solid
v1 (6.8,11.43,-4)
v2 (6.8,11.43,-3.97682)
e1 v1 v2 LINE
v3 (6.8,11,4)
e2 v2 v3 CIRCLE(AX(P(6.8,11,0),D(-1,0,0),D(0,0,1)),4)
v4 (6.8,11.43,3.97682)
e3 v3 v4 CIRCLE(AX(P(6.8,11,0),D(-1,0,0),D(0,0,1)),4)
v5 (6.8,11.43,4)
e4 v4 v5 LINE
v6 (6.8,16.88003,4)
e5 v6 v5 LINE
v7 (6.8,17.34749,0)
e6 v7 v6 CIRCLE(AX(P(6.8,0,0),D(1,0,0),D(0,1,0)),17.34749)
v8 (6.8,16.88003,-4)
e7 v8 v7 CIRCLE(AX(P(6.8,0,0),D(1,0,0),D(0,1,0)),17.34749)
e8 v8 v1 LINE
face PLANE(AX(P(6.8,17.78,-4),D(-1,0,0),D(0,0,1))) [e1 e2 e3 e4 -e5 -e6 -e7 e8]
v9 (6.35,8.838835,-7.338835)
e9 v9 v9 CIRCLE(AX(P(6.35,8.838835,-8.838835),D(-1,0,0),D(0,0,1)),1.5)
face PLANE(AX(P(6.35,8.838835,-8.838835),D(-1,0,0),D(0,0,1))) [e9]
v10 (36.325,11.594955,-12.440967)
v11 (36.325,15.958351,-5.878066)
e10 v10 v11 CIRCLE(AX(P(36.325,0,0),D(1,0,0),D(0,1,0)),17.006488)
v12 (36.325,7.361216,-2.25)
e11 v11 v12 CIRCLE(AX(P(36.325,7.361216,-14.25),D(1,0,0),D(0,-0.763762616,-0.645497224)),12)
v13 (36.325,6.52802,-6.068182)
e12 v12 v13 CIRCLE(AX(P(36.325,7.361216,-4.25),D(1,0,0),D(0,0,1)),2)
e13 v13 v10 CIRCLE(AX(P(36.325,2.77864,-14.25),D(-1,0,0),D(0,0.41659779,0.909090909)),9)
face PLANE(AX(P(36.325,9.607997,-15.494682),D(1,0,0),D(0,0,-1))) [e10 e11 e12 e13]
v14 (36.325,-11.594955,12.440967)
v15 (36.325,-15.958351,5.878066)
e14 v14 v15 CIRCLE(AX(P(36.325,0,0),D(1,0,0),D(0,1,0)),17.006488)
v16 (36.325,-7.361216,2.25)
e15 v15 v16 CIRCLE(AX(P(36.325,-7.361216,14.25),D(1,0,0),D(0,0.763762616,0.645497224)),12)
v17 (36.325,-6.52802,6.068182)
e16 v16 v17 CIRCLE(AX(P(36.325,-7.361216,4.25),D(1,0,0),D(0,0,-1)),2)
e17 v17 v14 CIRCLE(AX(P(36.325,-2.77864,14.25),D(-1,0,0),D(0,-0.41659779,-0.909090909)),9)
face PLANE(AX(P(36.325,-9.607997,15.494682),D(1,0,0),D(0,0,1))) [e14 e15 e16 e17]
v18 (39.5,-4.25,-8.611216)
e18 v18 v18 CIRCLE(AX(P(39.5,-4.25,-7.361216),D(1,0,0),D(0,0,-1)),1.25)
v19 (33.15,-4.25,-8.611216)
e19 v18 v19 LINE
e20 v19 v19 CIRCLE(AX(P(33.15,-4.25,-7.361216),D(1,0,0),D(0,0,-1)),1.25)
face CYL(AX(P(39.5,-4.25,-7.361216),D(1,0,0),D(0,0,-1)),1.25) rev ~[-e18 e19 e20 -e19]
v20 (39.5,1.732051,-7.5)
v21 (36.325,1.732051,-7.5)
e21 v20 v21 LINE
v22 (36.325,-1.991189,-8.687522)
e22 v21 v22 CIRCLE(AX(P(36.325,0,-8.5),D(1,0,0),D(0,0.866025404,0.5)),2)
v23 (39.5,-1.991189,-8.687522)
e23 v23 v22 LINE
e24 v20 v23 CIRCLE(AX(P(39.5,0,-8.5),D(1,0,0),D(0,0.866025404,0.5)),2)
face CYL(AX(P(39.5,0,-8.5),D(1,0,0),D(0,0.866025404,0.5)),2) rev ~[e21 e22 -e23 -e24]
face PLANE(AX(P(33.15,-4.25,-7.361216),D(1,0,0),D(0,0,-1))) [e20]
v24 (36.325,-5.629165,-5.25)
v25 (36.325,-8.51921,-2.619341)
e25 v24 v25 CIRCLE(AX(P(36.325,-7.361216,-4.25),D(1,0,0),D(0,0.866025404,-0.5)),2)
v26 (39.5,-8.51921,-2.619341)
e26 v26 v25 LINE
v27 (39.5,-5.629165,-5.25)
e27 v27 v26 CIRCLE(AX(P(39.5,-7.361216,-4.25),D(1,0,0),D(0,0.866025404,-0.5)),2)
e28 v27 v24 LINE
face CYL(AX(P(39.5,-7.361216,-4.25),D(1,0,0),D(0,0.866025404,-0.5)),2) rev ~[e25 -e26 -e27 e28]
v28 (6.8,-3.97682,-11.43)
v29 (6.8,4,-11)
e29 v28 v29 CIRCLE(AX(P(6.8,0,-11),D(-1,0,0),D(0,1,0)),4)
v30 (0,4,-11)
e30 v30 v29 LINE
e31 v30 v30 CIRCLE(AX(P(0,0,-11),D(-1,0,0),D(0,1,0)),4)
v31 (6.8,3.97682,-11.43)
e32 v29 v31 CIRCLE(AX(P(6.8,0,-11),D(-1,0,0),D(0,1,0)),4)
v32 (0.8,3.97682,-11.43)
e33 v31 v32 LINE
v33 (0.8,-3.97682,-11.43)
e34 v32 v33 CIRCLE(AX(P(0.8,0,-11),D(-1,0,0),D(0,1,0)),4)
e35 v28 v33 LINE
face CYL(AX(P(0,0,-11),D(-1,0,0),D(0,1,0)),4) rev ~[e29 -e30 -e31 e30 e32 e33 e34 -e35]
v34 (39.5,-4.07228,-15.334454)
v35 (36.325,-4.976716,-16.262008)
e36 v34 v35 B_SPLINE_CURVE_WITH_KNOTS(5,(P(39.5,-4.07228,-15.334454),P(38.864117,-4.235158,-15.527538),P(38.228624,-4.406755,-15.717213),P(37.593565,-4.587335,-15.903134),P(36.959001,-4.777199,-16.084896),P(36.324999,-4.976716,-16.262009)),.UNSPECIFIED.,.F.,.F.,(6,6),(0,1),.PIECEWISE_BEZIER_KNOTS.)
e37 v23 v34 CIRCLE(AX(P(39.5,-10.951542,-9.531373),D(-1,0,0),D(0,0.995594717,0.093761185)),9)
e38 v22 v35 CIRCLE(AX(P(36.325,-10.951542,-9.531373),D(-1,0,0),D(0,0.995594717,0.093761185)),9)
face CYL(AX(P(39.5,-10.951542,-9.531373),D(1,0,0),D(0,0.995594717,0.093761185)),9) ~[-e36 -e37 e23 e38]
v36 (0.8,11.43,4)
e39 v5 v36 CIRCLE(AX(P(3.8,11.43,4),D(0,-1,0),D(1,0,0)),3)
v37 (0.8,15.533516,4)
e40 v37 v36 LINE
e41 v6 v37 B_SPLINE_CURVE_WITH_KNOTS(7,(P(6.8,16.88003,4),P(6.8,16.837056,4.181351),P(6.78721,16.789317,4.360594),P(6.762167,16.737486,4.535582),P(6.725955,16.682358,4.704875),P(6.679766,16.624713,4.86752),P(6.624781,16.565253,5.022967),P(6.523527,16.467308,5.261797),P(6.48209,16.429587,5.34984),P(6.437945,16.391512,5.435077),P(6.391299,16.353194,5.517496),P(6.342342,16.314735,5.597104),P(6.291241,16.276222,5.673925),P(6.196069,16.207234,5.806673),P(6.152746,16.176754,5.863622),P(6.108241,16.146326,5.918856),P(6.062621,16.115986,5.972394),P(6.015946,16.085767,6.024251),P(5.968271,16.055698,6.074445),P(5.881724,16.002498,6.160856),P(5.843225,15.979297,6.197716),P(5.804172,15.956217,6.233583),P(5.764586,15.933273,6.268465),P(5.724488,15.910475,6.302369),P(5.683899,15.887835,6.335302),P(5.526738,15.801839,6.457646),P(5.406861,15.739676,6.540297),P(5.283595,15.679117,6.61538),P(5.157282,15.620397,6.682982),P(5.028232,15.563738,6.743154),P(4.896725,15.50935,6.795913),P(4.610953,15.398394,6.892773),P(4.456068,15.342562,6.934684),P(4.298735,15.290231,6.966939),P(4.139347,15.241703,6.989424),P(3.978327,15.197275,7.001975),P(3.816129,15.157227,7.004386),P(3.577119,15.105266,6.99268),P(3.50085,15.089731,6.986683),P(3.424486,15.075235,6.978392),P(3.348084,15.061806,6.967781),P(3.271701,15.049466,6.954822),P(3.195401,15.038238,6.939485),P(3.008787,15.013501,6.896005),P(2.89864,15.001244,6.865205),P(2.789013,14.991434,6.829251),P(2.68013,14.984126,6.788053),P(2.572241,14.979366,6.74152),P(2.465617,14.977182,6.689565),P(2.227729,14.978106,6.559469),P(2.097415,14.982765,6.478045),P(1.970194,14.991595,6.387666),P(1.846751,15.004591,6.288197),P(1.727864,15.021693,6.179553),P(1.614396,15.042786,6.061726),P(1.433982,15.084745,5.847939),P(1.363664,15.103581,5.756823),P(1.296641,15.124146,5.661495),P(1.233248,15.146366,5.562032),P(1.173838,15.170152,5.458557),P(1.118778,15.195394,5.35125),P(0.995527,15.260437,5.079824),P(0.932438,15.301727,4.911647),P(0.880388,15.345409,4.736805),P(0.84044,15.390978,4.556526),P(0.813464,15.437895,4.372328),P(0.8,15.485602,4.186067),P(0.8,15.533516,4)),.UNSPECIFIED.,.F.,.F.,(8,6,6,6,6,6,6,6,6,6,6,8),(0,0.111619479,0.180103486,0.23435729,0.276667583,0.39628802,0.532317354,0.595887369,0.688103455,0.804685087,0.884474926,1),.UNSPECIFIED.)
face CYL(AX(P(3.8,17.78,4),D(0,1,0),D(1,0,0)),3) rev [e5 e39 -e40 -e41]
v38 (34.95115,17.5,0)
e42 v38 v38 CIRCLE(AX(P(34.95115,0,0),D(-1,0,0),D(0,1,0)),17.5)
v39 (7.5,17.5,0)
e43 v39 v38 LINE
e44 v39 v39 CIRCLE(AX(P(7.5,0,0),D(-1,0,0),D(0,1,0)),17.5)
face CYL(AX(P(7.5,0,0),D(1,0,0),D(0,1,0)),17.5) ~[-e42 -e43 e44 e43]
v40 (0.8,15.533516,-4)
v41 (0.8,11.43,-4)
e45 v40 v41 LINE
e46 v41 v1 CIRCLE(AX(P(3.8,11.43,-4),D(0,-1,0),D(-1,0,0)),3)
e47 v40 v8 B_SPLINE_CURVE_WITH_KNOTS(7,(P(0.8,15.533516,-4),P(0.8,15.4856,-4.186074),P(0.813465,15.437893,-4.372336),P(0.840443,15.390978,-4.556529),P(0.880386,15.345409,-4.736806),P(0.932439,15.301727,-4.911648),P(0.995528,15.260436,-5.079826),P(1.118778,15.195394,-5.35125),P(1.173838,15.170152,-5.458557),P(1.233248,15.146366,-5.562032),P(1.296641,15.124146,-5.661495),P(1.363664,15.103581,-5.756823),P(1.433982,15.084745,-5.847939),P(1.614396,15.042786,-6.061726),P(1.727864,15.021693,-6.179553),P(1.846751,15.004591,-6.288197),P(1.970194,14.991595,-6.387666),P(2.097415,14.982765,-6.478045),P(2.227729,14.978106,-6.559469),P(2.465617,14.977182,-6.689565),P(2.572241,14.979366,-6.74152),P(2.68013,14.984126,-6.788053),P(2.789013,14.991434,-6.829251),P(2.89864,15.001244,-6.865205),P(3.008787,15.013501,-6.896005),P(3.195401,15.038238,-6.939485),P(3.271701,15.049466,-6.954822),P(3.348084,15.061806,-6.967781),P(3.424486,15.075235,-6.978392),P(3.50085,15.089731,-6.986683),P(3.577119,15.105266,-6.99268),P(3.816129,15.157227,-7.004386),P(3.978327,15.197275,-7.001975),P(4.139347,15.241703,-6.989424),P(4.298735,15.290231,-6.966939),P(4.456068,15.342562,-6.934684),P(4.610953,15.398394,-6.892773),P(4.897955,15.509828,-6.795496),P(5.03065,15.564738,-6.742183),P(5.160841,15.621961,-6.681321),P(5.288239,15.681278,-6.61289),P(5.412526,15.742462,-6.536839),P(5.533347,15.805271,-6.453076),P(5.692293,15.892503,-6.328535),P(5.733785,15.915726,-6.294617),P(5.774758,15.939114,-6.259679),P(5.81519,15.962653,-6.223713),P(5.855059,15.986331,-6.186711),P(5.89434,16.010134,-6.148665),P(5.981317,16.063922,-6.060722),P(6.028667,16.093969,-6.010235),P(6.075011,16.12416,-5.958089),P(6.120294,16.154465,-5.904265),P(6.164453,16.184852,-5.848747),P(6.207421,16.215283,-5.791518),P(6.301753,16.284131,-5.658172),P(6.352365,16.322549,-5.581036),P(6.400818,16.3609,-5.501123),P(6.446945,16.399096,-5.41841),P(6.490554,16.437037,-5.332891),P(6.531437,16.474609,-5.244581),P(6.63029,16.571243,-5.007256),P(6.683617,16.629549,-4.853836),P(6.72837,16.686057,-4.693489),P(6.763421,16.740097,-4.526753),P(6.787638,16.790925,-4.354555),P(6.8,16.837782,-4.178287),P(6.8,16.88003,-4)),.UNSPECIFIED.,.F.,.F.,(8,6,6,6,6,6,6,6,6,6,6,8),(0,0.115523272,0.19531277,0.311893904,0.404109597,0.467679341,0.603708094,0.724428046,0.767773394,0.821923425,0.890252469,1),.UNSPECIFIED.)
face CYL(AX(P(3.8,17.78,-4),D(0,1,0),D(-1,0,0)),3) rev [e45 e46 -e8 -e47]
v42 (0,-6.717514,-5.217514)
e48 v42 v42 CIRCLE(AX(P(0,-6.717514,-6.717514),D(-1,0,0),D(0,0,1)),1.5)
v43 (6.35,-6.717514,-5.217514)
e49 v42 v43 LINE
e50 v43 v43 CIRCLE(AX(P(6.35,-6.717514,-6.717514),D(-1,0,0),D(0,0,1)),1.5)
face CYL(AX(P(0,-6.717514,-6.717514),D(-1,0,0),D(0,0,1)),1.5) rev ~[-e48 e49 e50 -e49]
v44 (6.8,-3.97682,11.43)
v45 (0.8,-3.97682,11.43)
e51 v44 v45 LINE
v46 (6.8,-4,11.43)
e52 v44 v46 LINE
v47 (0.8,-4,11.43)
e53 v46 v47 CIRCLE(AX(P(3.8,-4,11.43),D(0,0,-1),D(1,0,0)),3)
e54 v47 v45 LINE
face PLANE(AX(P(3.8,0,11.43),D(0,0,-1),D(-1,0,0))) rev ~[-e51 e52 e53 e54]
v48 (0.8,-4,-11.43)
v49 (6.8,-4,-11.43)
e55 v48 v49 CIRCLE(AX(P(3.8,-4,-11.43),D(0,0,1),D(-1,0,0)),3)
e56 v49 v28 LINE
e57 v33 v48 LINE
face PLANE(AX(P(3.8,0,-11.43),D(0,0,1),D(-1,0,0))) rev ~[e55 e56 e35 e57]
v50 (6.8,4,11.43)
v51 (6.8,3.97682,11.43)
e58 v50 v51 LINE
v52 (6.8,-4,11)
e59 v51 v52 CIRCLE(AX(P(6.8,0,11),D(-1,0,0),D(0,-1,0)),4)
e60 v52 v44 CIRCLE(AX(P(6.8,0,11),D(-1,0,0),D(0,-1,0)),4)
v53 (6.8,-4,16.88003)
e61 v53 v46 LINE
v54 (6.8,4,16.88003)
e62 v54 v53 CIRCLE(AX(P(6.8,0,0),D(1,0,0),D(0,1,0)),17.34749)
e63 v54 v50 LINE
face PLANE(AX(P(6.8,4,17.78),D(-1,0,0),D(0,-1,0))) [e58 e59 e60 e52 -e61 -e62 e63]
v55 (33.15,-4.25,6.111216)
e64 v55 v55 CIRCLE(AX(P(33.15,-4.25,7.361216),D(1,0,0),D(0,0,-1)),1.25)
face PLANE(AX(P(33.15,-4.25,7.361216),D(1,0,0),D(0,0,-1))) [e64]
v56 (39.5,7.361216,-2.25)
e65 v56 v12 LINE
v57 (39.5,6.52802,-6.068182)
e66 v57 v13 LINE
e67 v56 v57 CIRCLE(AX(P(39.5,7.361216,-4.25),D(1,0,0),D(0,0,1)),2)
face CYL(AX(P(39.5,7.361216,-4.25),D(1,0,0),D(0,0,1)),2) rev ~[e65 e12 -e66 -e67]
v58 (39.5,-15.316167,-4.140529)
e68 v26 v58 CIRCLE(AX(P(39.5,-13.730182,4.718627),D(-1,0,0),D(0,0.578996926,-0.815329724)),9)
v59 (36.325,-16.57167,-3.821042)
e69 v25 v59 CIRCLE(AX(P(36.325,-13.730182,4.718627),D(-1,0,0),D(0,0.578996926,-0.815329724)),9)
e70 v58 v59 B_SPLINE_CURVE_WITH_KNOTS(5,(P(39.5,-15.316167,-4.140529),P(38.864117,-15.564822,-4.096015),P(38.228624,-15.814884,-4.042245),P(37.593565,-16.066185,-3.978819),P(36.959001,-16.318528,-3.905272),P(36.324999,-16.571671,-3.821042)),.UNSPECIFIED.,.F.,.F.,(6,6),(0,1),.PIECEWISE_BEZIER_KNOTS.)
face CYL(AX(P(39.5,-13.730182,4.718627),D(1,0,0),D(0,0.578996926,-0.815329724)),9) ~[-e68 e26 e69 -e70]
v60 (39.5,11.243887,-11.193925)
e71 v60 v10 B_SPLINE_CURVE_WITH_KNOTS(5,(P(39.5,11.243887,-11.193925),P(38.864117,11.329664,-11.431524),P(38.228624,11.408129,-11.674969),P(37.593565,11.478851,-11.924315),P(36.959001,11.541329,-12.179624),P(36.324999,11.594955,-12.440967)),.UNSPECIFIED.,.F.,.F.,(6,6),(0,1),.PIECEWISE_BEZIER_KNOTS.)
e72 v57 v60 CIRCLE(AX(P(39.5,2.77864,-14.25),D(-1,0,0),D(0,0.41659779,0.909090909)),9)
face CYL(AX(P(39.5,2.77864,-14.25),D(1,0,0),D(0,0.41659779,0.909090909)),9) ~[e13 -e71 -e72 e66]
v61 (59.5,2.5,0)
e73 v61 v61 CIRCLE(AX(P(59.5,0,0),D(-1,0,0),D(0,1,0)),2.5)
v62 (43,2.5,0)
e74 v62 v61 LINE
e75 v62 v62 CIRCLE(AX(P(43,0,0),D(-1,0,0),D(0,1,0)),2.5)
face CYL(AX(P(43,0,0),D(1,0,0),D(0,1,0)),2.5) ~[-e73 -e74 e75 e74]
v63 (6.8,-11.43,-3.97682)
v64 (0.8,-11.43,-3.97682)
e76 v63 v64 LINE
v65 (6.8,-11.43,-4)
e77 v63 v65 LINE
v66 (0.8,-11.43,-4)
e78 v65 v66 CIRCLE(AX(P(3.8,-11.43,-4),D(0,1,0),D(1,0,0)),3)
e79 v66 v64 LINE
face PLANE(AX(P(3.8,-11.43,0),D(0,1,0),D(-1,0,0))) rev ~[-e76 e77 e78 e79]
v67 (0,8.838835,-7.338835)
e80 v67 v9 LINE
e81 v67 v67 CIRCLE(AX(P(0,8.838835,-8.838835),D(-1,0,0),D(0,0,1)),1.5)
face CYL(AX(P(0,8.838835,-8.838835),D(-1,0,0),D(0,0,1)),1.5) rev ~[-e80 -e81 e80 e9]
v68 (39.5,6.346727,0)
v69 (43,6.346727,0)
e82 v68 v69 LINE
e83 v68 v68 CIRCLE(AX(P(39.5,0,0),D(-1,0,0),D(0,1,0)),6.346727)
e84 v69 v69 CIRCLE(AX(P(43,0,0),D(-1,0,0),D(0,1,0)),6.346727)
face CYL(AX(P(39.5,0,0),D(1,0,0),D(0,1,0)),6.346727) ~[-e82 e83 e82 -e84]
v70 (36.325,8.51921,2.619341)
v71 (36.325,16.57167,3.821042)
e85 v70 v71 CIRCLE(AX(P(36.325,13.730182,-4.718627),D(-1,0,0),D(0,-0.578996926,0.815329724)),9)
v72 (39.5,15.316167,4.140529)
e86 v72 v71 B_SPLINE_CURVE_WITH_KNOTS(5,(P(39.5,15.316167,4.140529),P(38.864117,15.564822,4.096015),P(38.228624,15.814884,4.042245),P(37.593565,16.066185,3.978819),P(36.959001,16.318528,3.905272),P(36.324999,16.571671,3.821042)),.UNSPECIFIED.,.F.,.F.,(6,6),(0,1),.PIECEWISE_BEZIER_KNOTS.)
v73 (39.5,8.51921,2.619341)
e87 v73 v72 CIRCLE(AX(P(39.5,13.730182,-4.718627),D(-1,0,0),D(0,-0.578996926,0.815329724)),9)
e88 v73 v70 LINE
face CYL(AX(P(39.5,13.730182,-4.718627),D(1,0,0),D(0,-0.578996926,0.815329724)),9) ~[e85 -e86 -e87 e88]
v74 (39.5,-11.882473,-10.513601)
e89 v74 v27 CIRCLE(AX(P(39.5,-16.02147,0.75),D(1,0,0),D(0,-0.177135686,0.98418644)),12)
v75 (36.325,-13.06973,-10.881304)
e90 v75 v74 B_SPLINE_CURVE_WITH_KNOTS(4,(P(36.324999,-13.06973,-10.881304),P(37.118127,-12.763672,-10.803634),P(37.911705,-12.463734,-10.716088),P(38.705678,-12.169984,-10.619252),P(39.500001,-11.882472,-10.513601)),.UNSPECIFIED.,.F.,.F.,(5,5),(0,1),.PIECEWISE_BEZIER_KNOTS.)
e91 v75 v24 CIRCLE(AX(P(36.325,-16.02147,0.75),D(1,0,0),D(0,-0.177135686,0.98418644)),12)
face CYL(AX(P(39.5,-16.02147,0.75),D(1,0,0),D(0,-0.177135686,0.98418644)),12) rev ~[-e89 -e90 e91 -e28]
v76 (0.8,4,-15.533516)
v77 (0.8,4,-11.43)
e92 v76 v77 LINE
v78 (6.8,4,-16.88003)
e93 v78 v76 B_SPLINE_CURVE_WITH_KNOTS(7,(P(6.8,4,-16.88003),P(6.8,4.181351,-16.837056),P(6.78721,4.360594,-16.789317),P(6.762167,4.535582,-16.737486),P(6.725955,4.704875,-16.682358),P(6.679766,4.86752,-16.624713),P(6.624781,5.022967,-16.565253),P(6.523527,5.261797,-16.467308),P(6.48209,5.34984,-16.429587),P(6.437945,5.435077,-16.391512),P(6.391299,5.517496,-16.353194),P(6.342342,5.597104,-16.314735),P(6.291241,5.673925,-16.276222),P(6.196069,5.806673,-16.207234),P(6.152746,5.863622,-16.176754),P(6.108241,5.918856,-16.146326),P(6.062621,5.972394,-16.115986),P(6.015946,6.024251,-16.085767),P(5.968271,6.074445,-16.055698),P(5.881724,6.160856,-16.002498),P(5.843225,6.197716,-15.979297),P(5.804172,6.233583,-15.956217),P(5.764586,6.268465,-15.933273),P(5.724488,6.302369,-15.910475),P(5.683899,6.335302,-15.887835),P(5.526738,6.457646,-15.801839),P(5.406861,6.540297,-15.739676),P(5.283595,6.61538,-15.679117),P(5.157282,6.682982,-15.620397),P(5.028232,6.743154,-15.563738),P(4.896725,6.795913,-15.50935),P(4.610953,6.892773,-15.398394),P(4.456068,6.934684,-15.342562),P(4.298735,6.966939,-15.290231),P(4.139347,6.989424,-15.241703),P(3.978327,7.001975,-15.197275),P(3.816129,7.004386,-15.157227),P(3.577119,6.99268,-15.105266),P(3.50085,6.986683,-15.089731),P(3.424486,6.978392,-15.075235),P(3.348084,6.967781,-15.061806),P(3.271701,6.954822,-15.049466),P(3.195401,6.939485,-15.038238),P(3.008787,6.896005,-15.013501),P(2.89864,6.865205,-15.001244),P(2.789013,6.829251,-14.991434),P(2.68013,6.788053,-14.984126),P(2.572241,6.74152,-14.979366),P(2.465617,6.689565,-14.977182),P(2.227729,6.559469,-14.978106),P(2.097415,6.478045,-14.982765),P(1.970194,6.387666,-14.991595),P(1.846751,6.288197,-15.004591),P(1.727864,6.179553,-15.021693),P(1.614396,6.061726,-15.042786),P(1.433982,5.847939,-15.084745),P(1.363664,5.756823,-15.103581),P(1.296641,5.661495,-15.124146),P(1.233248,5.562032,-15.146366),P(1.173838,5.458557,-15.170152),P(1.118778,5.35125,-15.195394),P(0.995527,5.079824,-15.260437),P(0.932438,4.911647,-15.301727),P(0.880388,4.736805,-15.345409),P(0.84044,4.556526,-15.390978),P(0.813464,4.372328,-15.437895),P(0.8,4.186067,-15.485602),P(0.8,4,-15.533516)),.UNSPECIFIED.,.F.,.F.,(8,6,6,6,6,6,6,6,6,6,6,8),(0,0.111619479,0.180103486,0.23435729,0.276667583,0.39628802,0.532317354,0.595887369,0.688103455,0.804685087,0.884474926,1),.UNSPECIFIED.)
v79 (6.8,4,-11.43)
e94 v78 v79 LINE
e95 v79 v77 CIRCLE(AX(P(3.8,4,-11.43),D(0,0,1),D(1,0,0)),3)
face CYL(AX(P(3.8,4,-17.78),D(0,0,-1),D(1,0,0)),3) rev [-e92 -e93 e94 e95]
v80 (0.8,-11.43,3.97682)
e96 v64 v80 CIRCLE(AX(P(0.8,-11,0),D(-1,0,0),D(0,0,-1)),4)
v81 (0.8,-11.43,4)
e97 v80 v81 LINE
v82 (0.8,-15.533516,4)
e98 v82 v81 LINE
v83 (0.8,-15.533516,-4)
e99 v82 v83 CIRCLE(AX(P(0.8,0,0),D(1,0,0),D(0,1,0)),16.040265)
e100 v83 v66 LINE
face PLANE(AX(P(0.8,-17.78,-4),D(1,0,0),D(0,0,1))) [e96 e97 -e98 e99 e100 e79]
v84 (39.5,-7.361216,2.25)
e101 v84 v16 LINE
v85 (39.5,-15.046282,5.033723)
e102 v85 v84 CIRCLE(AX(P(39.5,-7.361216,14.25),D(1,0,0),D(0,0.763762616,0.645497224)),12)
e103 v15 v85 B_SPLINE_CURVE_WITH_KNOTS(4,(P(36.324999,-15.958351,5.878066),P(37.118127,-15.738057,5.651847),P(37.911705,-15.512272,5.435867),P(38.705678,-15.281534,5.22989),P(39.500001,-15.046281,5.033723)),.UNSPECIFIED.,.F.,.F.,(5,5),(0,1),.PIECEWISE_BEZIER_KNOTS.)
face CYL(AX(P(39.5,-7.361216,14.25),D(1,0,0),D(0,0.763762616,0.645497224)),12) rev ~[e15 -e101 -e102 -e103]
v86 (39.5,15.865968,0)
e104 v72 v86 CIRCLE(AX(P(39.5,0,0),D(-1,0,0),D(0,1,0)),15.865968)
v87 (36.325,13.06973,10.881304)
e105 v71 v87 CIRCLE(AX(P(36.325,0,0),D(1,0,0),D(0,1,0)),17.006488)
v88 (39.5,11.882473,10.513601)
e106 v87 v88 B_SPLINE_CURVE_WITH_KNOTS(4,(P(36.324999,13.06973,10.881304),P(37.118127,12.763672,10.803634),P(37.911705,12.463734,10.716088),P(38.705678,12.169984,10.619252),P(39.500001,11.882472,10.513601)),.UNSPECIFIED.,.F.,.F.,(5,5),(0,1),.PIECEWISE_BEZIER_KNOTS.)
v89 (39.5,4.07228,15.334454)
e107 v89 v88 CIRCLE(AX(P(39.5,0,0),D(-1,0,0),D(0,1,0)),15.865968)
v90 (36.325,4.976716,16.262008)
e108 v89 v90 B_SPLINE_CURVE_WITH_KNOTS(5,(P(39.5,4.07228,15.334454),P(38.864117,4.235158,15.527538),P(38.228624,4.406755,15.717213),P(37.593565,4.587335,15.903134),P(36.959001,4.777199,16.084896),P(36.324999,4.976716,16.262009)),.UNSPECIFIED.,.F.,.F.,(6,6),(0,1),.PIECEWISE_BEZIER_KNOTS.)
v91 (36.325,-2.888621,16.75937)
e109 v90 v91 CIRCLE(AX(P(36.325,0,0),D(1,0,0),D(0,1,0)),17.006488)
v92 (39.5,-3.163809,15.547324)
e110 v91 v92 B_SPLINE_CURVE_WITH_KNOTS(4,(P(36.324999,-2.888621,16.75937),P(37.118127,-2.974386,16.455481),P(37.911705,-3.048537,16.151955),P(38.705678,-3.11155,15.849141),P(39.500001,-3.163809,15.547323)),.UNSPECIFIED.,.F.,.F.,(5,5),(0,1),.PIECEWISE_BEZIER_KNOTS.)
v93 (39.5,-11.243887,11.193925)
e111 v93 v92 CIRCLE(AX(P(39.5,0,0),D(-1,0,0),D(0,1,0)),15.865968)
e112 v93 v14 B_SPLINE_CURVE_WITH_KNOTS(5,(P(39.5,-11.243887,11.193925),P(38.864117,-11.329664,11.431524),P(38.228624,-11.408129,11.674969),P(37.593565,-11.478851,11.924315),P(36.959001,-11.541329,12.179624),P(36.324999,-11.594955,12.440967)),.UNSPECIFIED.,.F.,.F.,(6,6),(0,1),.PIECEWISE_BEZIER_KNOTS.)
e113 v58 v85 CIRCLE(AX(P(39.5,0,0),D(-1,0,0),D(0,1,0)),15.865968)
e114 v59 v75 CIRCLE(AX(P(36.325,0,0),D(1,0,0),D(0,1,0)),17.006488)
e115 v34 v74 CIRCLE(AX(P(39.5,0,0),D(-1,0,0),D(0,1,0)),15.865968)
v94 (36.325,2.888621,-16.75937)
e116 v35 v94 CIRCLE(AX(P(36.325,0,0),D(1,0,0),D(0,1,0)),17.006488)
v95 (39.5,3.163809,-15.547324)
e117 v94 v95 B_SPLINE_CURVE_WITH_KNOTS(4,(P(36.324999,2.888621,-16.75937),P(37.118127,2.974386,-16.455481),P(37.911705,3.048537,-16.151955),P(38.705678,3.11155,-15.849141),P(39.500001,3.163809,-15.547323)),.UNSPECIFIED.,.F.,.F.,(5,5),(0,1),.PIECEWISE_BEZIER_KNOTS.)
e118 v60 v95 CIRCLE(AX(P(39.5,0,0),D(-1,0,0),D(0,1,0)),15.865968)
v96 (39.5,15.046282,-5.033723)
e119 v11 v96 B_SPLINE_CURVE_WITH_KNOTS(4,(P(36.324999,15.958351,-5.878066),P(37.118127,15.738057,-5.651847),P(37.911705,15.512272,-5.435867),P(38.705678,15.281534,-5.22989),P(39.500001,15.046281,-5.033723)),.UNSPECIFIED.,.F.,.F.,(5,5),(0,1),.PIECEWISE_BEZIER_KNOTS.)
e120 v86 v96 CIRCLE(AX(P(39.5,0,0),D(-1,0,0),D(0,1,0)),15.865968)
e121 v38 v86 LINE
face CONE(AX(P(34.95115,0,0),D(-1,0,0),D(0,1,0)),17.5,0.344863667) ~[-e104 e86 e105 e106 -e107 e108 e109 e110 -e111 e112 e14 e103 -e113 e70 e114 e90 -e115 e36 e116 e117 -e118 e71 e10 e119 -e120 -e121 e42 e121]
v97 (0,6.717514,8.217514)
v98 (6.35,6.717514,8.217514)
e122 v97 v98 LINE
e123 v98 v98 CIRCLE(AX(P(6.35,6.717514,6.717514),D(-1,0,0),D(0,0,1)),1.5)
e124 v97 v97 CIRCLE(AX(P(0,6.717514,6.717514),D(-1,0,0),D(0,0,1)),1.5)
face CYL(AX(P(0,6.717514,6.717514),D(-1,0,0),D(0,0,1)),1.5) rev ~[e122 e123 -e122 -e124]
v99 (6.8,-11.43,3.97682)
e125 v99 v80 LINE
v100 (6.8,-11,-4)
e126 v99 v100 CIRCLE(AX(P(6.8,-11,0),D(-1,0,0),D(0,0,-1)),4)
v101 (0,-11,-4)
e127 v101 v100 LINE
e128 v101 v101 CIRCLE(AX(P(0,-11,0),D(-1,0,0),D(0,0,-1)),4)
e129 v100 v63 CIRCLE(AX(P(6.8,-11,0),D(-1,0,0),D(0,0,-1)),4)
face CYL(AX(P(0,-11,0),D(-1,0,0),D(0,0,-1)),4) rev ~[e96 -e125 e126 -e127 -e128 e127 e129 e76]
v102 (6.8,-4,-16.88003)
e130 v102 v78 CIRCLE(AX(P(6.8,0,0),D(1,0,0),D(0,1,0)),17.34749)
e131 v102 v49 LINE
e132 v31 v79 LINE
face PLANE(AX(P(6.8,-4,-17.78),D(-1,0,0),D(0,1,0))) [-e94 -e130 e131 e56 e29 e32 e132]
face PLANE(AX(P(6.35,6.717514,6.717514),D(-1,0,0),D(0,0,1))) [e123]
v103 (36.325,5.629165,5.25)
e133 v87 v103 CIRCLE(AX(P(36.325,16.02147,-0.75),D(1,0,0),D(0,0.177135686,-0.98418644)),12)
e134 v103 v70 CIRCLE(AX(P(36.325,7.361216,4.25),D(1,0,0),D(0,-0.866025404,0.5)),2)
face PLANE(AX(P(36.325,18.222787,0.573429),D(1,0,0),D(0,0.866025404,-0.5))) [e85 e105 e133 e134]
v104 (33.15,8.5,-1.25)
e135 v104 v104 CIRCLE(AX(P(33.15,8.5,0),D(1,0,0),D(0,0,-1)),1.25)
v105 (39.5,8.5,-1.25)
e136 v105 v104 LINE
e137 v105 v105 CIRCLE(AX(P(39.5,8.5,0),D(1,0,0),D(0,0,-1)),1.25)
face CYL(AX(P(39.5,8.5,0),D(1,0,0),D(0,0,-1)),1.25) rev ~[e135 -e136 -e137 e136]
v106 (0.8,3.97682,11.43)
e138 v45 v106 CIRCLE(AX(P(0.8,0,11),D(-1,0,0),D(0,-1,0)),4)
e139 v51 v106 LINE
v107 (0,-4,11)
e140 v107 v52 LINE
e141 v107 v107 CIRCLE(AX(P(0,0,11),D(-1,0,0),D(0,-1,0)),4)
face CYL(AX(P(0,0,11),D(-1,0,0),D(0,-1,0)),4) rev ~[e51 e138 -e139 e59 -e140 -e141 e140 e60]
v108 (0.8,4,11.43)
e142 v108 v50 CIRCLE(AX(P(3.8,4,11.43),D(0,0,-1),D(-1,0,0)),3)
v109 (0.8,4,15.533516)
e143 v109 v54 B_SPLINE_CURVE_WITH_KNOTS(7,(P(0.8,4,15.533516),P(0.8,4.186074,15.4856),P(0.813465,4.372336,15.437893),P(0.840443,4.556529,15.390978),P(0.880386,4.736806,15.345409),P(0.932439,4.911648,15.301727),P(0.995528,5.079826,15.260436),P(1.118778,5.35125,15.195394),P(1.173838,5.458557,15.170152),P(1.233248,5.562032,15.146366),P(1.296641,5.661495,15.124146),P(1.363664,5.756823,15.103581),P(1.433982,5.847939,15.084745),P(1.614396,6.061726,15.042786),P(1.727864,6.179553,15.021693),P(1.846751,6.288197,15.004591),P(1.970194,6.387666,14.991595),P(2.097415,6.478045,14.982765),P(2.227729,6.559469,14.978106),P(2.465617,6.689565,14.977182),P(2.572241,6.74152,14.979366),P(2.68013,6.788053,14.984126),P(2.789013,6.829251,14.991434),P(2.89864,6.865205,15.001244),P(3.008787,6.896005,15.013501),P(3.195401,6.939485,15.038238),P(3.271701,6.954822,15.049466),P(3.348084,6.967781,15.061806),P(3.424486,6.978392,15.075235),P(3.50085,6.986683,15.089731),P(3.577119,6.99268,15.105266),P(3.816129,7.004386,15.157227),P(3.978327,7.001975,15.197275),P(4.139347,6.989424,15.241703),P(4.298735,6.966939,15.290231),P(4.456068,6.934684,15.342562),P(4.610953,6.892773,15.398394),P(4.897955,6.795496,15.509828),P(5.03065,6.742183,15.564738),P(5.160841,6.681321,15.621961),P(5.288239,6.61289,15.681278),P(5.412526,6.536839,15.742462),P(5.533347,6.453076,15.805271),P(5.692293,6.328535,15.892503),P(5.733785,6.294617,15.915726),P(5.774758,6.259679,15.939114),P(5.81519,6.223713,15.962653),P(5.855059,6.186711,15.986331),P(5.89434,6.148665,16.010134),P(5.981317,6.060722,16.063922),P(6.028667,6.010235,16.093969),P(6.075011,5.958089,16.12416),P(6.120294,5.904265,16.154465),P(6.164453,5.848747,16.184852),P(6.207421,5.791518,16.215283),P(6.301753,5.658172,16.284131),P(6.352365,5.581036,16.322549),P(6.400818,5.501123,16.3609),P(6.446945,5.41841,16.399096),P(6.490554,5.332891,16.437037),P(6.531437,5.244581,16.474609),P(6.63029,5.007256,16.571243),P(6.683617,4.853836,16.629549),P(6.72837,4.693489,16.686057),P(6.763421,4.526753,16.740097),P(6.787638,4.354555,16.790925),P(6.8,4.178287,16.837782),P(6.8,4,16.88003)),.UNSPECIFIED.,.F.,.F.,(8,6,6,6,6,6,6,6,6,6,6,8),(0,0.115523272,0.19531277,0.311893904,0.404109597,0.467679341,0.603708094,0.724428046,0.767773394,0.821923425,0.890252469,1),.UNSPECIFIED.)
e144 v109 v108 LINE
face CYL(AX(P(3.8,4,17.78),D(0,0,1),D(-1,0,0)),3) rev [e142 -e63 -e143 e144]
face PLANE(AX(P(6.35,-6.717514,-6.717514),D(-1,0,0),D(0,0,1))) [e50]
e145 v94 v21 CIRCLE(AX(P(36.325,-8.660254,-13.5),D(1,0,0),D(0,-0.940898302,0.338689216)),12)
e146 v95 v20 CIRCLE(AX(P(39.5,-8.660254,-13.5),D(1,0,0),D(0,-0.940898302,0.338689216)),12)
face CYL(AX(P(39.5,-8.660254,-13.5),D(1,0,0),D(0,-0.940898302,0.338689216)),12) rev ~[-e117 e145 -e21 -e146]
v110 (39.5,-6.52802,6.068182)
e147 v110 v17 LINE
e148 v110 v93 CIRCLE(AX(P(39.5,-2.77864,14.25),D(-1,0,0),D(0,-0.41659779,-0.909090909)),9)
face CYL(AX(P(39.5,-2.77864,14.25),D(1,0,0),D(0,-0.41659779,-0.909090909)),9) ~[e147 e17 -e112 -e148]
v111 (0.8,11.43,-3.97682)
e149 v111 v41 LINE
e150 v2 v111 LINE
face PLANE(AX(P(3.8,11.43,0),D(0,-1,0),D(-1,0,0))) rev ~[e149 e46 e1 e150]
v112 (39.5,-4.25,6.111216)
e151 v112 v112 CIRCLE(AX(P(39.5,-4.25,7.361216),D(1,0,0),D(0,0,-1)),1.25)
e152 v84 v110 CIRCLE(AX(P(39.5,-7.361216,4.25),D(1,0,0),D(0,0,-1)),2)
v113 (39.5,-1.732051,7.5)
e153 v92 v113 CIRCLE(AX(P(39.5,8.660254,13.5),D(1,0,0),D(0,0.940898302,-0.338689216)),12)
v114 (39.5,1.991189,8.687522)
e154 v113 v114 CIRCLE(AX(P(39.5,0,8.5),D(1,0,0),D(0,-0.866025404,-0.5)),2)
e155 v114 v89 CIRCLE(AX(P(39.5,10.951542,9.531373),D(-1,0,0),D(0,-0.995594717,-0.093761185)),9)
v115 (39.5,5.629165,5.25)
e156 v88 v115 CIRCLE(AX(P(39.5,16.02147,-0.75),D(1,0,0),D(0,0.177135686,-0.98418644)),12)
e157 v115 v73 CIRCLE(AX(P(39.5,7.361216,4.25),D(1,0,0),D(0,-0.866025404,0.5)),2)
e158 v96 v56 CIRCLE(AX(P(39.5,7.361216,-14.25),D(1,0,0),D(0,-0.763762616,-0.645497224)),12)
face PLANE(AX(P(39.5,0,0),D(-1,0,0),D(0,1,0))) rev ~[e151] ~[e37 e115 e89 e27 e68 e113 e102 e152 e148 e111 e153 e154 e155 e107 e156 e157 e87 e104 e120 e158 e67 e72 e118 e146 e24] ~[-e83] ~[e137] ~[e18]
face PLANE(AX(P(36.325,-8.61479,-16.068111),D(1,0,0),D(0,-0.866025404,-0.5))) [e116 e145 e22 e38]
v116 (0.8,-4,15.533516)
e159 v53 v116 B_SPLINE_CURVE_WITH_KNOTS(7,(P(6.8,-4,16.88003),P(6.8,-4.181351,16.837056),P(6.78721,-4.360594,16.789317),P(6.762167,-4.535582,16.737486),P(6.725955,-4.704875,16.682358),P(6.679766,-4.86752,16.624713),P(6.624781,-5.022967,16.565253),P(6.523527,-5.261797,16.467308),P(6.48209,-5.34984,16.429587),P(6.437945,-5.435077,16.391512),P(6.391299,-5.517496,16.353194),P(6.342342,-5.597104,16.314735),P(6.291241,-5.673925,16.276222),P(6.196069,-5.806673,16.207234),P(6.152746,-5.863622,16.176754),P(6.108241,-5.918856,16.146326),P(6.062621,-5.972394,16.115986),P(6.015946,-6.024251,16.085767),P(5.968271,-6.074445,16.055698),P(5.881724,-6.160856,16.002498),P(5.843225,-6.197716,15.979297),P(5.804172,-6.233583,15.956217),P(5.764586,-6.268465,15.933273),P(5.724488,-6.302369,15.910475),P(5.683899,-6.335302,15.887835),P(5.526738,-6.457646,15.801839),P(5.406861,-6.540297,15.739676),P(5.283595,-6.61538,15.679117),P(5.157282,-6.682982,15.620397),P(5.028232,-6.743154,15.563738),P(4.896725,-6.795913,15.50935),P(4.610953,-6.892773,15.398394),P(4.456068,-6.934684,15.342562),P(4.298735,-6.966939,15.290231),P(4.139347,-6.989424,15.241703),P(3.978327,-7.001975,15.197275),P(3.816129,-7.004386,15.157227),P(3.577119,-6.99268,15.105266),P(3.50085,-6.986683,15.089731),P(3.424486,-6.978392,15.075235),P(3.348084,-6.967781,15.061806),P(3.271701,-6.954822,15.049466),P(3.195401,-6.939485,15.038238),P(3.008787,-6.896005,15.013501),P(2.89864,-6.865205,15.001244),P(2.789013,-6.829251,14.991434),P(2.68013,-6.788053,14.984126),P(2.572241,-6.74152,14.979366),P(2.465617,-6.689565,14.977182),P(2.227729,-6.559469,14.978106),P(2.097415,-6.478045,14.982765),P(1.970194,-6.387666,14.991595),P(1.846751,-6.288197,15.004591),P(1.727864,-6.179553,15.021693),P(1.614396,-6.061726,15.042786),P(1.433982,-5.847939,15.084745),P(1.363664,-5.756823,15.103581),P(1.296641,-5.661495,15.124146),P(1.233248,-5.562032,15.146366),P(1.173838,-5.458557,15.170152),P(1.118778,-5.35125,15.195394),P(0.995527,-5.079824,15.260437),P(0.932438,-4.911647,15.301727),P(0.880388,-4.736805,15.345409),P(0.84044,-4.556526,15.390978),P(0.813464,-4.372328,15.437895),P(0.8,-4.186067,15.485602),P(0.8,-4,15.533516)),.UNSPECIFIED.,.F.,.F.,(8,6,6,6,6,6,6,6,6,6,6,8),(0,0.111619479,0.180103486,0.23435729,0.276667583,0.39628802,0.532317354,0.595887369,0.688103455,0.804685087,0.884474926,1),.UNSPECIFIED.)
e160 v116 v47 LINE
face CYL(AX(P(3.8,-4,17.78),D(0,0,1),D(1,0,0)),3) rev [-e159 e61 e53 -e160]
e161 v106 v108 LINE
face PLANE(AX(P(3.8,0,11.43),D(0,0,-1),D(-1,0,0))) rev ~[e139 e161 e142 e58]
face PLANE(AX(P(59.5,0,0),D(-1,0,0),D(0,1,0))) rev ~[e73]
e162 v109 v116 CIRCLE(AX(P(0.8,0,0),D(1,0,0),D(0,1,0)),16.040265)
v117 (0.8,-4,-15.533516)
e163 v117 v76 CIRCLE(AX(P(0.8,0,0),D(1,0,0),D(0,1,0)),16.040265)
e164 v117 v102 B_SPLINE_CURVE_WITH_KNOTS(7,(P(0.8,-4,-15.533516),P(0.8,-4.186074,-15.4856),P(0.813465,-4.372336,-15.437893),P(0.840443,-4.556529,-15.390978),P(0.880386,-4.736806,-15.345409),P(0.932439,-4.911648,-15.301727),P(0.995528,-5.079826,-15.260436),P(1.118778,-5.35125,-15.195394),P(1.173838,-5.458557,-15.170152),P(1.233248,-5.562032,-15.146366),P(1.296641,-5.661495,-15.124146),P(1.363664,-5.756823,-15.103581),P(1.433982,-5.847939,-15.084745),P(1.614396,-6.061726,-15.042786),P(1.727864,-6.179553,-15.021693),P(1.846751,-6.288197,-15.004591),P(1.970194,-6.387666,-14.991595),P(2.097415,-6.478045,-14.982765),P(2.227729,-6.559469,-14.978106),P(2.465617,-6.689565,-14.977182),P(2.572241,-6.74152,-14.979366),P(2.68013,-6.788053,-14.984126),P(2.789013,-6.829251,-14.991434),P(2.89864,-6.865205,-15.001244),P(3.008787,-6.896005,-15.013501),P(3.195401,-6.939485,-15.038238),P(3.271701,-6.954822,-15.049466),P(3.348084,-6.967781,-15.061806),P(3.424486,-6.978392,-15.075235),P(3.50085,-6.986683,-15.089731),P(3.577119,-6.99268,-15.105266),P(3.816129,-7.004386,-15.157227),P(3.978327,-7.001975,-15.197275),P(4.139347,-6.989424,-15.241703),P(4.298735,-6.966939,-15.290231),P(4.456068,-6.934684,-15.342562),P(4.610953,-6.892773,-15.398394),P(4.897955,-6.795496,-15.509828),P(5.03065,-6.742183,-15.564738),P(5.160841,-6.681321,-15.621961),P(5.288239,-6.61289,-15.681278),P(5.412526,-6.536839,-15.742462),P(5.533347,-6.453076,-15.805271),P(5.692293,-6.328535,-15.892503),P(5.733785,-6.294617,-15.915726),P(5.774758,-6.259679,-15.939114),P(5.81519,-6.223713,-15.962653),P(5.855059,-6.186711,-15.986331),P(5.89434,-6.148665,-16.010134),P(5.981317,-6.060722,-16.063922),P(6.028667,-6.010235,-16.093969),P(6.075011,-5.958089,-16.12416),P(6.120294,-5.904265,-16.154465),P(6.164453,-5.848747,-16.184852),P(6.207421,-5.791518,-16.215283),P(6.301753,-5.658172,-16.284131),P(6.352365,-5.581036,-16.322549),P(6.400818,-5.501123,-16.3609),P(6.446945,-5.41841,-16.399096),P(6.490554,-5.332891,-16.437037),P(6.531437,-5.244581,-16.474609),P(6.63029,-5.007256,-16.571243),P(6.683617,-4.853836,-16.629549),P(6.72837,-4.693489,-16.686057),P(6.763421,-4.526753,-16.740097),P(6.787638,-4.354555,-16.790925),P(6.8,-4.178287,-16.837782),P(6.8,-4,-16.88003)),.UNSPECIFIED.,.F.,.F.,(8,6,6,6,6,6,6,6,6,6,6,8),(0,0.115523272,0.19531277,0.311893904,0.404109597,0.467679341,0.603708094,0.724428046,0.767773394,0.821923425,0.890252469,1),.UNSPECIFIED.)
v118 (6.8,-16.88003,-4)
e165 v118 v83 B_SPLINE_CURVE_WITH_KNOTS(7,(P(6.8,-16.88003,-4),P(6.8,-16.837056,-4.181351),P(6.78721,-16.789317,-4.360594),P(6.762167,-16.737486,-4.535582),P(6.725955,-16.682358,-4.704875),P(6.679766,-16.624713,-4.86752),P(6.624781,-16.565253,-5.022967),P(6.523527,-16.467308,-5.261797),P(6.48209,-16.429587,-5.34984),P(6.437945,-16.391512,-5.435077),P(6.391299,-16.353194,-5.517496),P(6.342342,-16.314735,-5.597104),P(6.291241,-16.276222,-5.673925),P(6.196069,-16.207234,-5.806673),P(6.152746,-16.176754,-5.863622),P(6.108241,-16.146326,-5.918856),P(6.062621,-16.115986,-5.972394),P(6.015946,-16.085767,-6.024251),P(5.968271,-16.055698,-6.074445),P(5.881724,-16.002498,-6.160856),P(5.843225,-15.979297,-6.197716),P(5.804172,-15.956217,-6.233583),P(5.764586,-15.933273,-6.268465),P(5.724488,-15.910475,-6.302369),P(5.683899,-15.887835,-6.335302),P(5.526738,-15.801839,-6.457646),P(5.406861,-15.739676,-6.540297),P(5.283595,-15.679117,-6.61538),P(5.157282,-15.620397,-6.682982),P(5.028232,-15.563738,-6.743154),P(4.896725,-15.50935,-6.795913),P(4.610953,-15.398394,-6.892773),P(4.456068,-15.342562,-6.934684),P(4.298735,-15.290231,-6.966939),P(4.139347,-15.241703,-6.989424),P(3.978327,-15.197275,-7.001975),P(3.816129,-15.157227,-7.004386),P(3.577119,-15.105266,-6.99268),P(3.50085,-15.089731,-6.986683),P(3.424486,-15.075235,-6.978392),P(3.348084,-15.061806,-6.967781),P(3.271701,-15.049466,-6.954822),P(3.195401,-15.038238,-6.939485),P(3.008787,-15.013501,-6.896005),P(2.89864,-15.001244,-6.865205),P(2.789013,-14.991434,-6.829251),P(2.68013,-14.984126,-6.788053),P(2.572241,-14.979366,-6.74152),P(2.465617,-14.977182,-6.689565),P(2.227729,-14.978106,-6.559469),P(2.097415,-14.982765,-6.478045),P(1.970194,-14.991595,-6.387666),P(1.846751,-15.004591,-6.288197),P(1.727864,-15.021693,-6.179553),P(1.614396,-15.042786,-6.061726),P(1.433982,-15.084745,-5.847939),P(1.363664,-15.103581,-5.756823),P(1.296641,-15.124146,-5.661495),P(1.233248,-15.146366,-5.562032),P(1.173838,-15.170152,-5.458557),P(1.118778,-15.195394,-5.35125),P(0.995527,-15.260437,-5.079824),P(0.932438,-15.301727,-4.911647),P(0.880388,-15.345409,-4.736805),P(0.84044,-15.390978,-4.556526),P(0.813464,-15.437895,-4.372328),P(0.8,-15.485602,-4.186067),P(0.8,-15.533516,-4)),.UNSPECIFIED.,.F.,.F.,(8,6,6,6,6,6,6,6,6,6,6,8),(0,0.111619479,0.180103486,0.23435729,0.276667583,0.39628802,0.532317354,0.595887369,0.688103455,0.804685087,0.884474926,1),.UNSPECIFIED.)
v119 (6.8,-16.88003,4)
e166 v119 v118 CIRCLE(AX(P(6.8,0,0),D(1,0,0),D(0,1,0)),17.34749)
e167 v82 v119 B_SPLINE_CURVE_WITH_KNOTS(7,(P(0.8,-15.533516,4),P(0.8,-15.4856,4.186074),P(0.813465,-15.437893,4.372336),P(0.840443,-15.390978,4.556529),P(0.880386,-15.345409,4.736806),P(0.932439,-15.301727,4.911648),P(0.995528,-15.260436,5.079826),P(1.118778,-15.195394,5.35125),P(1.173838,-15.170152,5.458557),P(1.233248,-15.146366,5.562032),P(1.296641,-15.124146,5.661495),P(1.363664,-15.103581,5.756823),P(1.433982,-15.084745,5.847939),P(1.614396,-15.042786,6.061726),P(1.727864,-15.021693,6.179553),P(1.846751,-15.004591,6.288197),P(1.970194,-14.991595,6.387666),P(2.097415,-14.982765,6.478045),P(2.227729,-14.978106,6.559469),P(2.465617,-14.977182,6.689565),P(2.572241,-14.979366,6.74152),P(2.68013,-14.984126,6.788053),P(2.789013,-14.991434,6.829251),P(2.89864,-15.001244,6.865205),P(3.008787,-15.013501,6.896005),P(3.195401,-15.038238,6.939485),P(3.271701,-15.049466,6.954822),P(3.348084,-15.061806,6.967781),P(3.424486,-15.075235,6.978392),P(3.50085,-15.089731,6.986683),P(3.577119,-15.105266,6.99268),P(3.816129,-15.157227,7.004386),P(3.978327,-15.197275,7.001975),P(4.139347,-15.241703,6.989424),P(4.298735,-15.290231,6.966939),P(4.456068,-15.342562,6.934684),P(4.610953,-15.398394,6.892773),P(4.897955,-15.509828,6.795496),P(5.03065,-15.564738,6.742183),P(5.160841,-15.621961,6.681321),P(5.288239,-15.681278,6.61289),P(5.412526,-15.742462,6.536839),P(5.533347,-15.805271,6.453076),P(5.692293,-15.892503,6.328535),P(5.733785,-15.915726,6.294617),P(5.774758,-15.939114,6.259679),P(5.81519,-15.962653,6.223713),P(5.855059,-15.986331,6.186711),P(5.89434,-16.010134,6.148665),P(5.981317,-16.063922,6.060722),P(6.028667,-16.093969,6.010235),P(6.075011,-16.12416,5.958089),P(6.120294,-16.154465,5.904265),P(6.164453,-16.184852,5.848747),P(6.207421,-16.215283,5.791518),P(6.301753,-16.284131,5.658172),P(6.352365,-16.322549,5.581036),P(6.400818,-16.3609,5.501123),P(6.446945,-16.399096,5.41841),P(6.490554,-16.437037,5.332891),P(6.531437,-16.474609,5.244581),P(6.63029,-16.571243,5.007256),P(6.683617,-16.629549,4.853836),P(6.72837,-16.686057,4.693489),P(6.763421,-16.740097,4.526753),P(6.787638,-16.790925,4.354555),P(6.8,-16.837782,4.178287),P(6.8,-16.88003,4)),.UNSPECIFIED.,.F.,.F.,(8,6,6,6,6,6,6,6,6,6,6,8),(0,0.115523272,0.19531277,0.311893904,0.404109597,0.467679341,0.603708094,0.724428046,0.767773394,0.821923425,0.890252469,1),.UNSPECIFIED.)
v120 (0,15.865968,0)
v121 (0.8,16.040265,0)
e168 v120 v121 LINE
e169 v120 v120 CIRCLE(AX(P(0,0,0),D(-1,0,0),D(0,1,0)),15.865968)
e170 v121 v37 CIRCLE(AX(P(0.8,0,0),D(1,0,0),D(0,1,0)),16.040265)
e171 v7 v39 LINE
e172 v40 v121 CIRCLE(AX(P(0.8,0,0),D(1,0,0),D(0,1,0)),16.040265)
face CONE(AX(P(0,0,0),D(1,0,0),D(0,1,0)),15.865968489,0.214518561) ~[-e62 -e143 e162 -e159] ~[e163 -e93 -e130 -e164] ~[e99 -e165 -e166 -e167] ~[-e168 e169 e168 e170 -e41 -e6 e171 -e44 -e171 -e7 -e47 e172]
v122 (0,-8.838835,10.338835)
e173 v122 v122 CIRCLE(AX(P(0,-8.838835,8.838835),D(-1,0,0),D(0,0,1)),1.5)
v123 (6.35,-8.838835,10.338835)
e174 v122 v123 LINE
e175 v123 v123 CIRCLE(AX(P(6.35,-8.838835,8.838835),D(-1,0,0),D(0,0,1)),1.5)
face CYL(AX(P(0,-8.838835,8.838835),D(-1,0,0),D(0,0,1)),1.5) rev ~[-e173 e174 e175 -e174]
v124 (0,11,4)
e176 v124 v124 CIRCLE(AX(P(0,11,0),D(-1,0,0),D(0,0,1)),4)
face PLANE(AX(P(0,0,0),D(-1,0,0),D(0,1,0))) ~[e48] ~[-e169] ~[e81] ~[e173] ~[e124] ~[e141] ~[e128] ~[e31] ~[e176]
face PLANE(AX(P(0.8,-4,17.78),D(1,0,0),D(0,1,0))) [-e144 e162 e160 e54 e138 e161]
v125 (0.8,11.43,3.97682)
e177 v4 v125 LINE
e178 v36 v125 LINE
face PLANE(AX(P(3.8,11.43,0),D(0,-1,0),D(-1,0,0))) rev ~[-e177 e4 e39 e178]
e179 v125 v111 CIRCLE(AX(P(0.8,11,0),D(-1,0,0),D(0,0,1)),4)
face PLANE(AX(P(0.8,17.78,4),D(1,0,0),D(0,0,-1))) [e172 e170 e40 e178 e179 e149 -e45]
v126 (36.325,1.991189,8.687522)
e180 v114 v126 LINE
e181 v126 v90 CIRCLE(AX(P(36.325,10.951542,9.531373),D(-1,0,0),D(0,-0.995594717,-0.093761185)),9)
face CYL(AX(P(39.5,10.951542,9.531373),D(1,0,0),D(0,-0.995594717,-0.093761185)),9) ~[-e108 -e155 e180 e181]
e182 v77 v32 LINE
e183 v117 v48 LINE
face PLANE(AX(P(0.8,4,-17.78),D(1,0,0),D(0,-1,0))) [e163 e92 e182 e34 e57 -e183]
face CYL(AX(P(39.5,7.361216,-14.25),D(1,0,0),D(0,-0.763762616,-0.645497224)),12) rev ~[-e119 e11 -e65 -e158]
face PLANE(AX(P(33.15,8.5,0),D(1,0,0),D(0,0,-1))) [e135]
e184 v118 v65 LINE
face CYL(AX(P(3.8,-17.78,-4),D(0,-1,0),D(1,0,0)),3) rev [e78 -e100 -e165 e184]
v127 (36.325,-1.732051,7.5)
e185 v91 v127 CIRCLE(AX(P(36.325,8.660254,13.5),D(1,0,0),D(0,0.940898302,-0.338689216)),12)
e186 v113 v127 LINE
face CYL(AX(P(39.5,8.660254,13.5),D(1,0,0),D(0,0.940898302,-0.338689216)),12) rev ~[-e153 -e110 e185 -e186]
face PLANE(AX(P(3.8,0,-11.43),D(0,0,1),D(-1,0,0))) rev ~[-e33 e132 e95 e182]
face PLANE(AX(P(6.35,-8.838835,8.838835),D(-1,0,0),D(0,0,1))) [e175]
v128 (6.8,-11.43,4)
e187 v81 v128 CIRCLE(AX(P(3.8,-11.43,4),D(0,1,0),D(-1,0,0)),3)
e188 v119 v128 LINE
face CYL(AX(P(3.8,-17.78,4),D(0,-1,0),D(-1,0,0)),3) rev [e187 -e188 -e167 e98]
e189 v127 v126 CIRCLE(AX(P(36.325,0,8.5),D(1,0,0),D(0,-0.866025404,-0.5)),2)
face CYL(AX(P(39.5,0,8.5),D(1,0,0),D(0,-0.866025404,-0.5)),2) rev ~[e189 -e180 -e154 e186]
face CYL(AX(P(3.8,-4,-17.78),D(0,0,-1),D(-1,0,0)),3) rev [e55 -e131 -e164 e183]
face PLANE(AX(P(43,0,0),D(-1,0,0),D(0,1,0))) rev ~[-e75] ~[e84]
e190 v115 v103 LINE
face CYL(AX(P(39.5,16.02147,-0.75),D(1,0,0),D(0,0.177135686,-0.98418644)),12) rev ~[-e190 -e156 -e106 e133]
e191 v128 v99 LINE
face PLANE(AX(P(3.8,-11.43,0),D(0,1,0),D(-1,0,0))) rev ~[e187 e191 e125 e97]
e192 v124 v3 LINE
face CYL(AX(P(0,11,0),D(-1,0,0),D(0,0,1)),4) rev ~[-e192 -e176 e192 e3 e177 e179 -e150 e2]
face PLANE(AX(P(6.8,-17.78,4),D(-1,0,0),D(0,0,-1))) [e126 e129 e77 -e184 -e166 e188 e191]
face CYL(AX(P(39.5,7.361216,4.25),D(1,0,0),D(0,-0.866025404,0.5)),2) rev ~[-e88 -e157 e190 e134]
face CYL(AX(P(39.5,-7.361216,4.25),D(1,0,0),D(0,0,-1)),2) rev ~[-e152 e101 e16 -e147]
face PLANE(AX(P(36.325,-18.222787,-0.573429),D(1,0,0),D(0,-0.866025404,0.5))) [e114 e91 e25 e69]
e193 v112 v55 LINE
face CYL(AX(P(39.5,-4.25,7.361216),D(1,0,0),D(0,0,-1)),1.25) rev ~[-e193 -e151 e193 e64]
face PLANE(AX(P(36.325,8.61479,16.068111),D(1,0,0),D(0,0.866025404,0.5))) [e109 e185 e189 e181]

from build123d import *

# Parameters (mm, degrees)
SKETCH2_R          = 1.25
CUT_EXTRUDE1_DEPTH = 6.35
SKETCH3_R          = 1.5
CUT_EXTRUDE2_DEPTH = 6.35
CUT_EXTRUDE5_START = 17.78
CUT_EXTRUDE5_DEPTH = 6.35
SKETCH4_R          = 4
CUT_EXTRUDE3_DEPTH = 6.8
CIRPATTERN1_COUNT  = 4
CUT_EXTRUDE4_DEPTH = 3.175
CIRPATTERN2_COUNT  = 6


with BuildPart() as part:
    # Sketch1 → Revolve1 (revolve)
    with BuildSketch(Plane.XY):
        Polygon((0, 0), (0, 15.865968489), (7.5, 17.5), (34.951150155, 17.5), (39.5, 15.865968489), (39.5, 6.346727069), (43, 6.346727069), (43, 2.5), (59.5, 2.5), (59.5, 0), align=None)
    revolve(axis=Axis((59.5, 0, 0), (-1, 0, 0)))

    # Sketch2 → Cut-Extrude1 (cut)
    with BuildSketch(Plane(origin=(39.5, 0, 0), x_dir=(0, 0, -1), z_dir=(1, 0, 0))):
        with Locations((0, 8.5)):
            Circle(SKETCH2_R)
        with Locations((7.361215932, -4.25)):
            Circle(SKETCH2_R)
        with Locations((-7.361215932, -4.25)):
            Circle(SKETCH2_R)
    extrude(amount=-CUT_EXTRUDE1_DEPTH, mode=Mode.SUBTRACT)

    # Sketch3 → Cut-Extrude2 (cut)
    with BuildSketch(Plane.ZY):
        with Locations((-8.838834765, 8.838834765)):
            Circle(SKETCH3_R)
        with Locations((8.838834765, -8.838834765)):
            Circle(SKETCH3_R)
        with Locations((6.717514421, 6.717514421)):
            Circle(SKETCH3_R)
        with Locations((-6.717514421, -6.717514421)):
            Circle(SKETCH3_R)
    extrude(amount=-CUT_EXTRUDE2_DEPTH, mode=Mode.SUBTRACT)

    # Sketch6 → Cut-Extrude5 (cut)
    with BuildSketch(Plane(origin=(0, 0, 0), x_dir=(1, 0, 0), z_dir=(0, 1, 0)).offset(CUT_EXTRUDE5_START)):
        with BuildLine():
            Line((6.8, 4), (6.8, -4))
            ThreePointArc((6.8, -4), (3.8, -7), (0.8, -4))
            Line((0.8, -4), (0.8, 4))
            ThreePointArc((0.8, 4), (3.8, 7), (6.8, 4))
        make_face()
    cut_extrude5 = extrude(amount=-CUT_EXTRUDE5_DEPTH, mode=Mode.SUBTRACT)

    # Sketch4 → Cut-Extrude3 (cut)
    with BuildSketch(Plane.ZY):
        with Locations((0, 11)):
            Circle(SKETCH4_R)
    cut_extrude3 = extrude(amount=-CUT_EXTRUDE3_DEPTH, mode=Mode.SUBTRACT)

    # CirPattern1: Cut-Extrude5, Cut-Extrude3 ×4 about axis
    cirpattern1_axis = Axis((0, 0, 0), (1, 0, 0))
    for i in range(1, CIRPATTERN1_COUNT):
        add(cut_extrude5.rotate(cirpattern1_axis, i * 360 / CIRPATTERN1_COUNT), mode=Mode.SUBTRACT)
        add(cut_extrude3.rotate(cirpattern1_axis, i * 360 / CIRPATTERN1_COUNT), mode=Mode.SUBTRACT)

    # Sketch5 → Cut-Extrude4 (cut)
    with BuildSketch(Plane(origin=(39.5, 0, 0), x_dir=(0, 0, -1), z_dir=(1, 0, 0))):
        with BuildLine():
            ThreePointArc((2.25, 7.361215932), (3.823598567, 5.40719909), (6.068181818, 6.528020351))
            ThreePointArc((6.068181818, 6.528020351), (18.421673948, 10.753421518), (21.995966692, -1.803935458))
            ThreePointArc((21.995966692, -1.803935458), (19.302148043, 18.245874868), (2.25, 7.361215932))
        make_face()
    cut_extrude4 = extrude(amount=-CUT_EXTRUDE4_DEPTH, mode=Mode.SUBTRACT)

    # CirPattern2: Cut-Extrude4 ×6 about axis
    cirpattern2_axis = Axis((0, 0, 0), (1, 0, 0))
    for i in range(1, CIRPATTERN2_COUNT):
        add(cut_extrude4.rotate(cirpattern2_axis, i * 360 / CIRPATTERN2_COUNT), mode=Mode.SUBTRACT)


solid = part.part
